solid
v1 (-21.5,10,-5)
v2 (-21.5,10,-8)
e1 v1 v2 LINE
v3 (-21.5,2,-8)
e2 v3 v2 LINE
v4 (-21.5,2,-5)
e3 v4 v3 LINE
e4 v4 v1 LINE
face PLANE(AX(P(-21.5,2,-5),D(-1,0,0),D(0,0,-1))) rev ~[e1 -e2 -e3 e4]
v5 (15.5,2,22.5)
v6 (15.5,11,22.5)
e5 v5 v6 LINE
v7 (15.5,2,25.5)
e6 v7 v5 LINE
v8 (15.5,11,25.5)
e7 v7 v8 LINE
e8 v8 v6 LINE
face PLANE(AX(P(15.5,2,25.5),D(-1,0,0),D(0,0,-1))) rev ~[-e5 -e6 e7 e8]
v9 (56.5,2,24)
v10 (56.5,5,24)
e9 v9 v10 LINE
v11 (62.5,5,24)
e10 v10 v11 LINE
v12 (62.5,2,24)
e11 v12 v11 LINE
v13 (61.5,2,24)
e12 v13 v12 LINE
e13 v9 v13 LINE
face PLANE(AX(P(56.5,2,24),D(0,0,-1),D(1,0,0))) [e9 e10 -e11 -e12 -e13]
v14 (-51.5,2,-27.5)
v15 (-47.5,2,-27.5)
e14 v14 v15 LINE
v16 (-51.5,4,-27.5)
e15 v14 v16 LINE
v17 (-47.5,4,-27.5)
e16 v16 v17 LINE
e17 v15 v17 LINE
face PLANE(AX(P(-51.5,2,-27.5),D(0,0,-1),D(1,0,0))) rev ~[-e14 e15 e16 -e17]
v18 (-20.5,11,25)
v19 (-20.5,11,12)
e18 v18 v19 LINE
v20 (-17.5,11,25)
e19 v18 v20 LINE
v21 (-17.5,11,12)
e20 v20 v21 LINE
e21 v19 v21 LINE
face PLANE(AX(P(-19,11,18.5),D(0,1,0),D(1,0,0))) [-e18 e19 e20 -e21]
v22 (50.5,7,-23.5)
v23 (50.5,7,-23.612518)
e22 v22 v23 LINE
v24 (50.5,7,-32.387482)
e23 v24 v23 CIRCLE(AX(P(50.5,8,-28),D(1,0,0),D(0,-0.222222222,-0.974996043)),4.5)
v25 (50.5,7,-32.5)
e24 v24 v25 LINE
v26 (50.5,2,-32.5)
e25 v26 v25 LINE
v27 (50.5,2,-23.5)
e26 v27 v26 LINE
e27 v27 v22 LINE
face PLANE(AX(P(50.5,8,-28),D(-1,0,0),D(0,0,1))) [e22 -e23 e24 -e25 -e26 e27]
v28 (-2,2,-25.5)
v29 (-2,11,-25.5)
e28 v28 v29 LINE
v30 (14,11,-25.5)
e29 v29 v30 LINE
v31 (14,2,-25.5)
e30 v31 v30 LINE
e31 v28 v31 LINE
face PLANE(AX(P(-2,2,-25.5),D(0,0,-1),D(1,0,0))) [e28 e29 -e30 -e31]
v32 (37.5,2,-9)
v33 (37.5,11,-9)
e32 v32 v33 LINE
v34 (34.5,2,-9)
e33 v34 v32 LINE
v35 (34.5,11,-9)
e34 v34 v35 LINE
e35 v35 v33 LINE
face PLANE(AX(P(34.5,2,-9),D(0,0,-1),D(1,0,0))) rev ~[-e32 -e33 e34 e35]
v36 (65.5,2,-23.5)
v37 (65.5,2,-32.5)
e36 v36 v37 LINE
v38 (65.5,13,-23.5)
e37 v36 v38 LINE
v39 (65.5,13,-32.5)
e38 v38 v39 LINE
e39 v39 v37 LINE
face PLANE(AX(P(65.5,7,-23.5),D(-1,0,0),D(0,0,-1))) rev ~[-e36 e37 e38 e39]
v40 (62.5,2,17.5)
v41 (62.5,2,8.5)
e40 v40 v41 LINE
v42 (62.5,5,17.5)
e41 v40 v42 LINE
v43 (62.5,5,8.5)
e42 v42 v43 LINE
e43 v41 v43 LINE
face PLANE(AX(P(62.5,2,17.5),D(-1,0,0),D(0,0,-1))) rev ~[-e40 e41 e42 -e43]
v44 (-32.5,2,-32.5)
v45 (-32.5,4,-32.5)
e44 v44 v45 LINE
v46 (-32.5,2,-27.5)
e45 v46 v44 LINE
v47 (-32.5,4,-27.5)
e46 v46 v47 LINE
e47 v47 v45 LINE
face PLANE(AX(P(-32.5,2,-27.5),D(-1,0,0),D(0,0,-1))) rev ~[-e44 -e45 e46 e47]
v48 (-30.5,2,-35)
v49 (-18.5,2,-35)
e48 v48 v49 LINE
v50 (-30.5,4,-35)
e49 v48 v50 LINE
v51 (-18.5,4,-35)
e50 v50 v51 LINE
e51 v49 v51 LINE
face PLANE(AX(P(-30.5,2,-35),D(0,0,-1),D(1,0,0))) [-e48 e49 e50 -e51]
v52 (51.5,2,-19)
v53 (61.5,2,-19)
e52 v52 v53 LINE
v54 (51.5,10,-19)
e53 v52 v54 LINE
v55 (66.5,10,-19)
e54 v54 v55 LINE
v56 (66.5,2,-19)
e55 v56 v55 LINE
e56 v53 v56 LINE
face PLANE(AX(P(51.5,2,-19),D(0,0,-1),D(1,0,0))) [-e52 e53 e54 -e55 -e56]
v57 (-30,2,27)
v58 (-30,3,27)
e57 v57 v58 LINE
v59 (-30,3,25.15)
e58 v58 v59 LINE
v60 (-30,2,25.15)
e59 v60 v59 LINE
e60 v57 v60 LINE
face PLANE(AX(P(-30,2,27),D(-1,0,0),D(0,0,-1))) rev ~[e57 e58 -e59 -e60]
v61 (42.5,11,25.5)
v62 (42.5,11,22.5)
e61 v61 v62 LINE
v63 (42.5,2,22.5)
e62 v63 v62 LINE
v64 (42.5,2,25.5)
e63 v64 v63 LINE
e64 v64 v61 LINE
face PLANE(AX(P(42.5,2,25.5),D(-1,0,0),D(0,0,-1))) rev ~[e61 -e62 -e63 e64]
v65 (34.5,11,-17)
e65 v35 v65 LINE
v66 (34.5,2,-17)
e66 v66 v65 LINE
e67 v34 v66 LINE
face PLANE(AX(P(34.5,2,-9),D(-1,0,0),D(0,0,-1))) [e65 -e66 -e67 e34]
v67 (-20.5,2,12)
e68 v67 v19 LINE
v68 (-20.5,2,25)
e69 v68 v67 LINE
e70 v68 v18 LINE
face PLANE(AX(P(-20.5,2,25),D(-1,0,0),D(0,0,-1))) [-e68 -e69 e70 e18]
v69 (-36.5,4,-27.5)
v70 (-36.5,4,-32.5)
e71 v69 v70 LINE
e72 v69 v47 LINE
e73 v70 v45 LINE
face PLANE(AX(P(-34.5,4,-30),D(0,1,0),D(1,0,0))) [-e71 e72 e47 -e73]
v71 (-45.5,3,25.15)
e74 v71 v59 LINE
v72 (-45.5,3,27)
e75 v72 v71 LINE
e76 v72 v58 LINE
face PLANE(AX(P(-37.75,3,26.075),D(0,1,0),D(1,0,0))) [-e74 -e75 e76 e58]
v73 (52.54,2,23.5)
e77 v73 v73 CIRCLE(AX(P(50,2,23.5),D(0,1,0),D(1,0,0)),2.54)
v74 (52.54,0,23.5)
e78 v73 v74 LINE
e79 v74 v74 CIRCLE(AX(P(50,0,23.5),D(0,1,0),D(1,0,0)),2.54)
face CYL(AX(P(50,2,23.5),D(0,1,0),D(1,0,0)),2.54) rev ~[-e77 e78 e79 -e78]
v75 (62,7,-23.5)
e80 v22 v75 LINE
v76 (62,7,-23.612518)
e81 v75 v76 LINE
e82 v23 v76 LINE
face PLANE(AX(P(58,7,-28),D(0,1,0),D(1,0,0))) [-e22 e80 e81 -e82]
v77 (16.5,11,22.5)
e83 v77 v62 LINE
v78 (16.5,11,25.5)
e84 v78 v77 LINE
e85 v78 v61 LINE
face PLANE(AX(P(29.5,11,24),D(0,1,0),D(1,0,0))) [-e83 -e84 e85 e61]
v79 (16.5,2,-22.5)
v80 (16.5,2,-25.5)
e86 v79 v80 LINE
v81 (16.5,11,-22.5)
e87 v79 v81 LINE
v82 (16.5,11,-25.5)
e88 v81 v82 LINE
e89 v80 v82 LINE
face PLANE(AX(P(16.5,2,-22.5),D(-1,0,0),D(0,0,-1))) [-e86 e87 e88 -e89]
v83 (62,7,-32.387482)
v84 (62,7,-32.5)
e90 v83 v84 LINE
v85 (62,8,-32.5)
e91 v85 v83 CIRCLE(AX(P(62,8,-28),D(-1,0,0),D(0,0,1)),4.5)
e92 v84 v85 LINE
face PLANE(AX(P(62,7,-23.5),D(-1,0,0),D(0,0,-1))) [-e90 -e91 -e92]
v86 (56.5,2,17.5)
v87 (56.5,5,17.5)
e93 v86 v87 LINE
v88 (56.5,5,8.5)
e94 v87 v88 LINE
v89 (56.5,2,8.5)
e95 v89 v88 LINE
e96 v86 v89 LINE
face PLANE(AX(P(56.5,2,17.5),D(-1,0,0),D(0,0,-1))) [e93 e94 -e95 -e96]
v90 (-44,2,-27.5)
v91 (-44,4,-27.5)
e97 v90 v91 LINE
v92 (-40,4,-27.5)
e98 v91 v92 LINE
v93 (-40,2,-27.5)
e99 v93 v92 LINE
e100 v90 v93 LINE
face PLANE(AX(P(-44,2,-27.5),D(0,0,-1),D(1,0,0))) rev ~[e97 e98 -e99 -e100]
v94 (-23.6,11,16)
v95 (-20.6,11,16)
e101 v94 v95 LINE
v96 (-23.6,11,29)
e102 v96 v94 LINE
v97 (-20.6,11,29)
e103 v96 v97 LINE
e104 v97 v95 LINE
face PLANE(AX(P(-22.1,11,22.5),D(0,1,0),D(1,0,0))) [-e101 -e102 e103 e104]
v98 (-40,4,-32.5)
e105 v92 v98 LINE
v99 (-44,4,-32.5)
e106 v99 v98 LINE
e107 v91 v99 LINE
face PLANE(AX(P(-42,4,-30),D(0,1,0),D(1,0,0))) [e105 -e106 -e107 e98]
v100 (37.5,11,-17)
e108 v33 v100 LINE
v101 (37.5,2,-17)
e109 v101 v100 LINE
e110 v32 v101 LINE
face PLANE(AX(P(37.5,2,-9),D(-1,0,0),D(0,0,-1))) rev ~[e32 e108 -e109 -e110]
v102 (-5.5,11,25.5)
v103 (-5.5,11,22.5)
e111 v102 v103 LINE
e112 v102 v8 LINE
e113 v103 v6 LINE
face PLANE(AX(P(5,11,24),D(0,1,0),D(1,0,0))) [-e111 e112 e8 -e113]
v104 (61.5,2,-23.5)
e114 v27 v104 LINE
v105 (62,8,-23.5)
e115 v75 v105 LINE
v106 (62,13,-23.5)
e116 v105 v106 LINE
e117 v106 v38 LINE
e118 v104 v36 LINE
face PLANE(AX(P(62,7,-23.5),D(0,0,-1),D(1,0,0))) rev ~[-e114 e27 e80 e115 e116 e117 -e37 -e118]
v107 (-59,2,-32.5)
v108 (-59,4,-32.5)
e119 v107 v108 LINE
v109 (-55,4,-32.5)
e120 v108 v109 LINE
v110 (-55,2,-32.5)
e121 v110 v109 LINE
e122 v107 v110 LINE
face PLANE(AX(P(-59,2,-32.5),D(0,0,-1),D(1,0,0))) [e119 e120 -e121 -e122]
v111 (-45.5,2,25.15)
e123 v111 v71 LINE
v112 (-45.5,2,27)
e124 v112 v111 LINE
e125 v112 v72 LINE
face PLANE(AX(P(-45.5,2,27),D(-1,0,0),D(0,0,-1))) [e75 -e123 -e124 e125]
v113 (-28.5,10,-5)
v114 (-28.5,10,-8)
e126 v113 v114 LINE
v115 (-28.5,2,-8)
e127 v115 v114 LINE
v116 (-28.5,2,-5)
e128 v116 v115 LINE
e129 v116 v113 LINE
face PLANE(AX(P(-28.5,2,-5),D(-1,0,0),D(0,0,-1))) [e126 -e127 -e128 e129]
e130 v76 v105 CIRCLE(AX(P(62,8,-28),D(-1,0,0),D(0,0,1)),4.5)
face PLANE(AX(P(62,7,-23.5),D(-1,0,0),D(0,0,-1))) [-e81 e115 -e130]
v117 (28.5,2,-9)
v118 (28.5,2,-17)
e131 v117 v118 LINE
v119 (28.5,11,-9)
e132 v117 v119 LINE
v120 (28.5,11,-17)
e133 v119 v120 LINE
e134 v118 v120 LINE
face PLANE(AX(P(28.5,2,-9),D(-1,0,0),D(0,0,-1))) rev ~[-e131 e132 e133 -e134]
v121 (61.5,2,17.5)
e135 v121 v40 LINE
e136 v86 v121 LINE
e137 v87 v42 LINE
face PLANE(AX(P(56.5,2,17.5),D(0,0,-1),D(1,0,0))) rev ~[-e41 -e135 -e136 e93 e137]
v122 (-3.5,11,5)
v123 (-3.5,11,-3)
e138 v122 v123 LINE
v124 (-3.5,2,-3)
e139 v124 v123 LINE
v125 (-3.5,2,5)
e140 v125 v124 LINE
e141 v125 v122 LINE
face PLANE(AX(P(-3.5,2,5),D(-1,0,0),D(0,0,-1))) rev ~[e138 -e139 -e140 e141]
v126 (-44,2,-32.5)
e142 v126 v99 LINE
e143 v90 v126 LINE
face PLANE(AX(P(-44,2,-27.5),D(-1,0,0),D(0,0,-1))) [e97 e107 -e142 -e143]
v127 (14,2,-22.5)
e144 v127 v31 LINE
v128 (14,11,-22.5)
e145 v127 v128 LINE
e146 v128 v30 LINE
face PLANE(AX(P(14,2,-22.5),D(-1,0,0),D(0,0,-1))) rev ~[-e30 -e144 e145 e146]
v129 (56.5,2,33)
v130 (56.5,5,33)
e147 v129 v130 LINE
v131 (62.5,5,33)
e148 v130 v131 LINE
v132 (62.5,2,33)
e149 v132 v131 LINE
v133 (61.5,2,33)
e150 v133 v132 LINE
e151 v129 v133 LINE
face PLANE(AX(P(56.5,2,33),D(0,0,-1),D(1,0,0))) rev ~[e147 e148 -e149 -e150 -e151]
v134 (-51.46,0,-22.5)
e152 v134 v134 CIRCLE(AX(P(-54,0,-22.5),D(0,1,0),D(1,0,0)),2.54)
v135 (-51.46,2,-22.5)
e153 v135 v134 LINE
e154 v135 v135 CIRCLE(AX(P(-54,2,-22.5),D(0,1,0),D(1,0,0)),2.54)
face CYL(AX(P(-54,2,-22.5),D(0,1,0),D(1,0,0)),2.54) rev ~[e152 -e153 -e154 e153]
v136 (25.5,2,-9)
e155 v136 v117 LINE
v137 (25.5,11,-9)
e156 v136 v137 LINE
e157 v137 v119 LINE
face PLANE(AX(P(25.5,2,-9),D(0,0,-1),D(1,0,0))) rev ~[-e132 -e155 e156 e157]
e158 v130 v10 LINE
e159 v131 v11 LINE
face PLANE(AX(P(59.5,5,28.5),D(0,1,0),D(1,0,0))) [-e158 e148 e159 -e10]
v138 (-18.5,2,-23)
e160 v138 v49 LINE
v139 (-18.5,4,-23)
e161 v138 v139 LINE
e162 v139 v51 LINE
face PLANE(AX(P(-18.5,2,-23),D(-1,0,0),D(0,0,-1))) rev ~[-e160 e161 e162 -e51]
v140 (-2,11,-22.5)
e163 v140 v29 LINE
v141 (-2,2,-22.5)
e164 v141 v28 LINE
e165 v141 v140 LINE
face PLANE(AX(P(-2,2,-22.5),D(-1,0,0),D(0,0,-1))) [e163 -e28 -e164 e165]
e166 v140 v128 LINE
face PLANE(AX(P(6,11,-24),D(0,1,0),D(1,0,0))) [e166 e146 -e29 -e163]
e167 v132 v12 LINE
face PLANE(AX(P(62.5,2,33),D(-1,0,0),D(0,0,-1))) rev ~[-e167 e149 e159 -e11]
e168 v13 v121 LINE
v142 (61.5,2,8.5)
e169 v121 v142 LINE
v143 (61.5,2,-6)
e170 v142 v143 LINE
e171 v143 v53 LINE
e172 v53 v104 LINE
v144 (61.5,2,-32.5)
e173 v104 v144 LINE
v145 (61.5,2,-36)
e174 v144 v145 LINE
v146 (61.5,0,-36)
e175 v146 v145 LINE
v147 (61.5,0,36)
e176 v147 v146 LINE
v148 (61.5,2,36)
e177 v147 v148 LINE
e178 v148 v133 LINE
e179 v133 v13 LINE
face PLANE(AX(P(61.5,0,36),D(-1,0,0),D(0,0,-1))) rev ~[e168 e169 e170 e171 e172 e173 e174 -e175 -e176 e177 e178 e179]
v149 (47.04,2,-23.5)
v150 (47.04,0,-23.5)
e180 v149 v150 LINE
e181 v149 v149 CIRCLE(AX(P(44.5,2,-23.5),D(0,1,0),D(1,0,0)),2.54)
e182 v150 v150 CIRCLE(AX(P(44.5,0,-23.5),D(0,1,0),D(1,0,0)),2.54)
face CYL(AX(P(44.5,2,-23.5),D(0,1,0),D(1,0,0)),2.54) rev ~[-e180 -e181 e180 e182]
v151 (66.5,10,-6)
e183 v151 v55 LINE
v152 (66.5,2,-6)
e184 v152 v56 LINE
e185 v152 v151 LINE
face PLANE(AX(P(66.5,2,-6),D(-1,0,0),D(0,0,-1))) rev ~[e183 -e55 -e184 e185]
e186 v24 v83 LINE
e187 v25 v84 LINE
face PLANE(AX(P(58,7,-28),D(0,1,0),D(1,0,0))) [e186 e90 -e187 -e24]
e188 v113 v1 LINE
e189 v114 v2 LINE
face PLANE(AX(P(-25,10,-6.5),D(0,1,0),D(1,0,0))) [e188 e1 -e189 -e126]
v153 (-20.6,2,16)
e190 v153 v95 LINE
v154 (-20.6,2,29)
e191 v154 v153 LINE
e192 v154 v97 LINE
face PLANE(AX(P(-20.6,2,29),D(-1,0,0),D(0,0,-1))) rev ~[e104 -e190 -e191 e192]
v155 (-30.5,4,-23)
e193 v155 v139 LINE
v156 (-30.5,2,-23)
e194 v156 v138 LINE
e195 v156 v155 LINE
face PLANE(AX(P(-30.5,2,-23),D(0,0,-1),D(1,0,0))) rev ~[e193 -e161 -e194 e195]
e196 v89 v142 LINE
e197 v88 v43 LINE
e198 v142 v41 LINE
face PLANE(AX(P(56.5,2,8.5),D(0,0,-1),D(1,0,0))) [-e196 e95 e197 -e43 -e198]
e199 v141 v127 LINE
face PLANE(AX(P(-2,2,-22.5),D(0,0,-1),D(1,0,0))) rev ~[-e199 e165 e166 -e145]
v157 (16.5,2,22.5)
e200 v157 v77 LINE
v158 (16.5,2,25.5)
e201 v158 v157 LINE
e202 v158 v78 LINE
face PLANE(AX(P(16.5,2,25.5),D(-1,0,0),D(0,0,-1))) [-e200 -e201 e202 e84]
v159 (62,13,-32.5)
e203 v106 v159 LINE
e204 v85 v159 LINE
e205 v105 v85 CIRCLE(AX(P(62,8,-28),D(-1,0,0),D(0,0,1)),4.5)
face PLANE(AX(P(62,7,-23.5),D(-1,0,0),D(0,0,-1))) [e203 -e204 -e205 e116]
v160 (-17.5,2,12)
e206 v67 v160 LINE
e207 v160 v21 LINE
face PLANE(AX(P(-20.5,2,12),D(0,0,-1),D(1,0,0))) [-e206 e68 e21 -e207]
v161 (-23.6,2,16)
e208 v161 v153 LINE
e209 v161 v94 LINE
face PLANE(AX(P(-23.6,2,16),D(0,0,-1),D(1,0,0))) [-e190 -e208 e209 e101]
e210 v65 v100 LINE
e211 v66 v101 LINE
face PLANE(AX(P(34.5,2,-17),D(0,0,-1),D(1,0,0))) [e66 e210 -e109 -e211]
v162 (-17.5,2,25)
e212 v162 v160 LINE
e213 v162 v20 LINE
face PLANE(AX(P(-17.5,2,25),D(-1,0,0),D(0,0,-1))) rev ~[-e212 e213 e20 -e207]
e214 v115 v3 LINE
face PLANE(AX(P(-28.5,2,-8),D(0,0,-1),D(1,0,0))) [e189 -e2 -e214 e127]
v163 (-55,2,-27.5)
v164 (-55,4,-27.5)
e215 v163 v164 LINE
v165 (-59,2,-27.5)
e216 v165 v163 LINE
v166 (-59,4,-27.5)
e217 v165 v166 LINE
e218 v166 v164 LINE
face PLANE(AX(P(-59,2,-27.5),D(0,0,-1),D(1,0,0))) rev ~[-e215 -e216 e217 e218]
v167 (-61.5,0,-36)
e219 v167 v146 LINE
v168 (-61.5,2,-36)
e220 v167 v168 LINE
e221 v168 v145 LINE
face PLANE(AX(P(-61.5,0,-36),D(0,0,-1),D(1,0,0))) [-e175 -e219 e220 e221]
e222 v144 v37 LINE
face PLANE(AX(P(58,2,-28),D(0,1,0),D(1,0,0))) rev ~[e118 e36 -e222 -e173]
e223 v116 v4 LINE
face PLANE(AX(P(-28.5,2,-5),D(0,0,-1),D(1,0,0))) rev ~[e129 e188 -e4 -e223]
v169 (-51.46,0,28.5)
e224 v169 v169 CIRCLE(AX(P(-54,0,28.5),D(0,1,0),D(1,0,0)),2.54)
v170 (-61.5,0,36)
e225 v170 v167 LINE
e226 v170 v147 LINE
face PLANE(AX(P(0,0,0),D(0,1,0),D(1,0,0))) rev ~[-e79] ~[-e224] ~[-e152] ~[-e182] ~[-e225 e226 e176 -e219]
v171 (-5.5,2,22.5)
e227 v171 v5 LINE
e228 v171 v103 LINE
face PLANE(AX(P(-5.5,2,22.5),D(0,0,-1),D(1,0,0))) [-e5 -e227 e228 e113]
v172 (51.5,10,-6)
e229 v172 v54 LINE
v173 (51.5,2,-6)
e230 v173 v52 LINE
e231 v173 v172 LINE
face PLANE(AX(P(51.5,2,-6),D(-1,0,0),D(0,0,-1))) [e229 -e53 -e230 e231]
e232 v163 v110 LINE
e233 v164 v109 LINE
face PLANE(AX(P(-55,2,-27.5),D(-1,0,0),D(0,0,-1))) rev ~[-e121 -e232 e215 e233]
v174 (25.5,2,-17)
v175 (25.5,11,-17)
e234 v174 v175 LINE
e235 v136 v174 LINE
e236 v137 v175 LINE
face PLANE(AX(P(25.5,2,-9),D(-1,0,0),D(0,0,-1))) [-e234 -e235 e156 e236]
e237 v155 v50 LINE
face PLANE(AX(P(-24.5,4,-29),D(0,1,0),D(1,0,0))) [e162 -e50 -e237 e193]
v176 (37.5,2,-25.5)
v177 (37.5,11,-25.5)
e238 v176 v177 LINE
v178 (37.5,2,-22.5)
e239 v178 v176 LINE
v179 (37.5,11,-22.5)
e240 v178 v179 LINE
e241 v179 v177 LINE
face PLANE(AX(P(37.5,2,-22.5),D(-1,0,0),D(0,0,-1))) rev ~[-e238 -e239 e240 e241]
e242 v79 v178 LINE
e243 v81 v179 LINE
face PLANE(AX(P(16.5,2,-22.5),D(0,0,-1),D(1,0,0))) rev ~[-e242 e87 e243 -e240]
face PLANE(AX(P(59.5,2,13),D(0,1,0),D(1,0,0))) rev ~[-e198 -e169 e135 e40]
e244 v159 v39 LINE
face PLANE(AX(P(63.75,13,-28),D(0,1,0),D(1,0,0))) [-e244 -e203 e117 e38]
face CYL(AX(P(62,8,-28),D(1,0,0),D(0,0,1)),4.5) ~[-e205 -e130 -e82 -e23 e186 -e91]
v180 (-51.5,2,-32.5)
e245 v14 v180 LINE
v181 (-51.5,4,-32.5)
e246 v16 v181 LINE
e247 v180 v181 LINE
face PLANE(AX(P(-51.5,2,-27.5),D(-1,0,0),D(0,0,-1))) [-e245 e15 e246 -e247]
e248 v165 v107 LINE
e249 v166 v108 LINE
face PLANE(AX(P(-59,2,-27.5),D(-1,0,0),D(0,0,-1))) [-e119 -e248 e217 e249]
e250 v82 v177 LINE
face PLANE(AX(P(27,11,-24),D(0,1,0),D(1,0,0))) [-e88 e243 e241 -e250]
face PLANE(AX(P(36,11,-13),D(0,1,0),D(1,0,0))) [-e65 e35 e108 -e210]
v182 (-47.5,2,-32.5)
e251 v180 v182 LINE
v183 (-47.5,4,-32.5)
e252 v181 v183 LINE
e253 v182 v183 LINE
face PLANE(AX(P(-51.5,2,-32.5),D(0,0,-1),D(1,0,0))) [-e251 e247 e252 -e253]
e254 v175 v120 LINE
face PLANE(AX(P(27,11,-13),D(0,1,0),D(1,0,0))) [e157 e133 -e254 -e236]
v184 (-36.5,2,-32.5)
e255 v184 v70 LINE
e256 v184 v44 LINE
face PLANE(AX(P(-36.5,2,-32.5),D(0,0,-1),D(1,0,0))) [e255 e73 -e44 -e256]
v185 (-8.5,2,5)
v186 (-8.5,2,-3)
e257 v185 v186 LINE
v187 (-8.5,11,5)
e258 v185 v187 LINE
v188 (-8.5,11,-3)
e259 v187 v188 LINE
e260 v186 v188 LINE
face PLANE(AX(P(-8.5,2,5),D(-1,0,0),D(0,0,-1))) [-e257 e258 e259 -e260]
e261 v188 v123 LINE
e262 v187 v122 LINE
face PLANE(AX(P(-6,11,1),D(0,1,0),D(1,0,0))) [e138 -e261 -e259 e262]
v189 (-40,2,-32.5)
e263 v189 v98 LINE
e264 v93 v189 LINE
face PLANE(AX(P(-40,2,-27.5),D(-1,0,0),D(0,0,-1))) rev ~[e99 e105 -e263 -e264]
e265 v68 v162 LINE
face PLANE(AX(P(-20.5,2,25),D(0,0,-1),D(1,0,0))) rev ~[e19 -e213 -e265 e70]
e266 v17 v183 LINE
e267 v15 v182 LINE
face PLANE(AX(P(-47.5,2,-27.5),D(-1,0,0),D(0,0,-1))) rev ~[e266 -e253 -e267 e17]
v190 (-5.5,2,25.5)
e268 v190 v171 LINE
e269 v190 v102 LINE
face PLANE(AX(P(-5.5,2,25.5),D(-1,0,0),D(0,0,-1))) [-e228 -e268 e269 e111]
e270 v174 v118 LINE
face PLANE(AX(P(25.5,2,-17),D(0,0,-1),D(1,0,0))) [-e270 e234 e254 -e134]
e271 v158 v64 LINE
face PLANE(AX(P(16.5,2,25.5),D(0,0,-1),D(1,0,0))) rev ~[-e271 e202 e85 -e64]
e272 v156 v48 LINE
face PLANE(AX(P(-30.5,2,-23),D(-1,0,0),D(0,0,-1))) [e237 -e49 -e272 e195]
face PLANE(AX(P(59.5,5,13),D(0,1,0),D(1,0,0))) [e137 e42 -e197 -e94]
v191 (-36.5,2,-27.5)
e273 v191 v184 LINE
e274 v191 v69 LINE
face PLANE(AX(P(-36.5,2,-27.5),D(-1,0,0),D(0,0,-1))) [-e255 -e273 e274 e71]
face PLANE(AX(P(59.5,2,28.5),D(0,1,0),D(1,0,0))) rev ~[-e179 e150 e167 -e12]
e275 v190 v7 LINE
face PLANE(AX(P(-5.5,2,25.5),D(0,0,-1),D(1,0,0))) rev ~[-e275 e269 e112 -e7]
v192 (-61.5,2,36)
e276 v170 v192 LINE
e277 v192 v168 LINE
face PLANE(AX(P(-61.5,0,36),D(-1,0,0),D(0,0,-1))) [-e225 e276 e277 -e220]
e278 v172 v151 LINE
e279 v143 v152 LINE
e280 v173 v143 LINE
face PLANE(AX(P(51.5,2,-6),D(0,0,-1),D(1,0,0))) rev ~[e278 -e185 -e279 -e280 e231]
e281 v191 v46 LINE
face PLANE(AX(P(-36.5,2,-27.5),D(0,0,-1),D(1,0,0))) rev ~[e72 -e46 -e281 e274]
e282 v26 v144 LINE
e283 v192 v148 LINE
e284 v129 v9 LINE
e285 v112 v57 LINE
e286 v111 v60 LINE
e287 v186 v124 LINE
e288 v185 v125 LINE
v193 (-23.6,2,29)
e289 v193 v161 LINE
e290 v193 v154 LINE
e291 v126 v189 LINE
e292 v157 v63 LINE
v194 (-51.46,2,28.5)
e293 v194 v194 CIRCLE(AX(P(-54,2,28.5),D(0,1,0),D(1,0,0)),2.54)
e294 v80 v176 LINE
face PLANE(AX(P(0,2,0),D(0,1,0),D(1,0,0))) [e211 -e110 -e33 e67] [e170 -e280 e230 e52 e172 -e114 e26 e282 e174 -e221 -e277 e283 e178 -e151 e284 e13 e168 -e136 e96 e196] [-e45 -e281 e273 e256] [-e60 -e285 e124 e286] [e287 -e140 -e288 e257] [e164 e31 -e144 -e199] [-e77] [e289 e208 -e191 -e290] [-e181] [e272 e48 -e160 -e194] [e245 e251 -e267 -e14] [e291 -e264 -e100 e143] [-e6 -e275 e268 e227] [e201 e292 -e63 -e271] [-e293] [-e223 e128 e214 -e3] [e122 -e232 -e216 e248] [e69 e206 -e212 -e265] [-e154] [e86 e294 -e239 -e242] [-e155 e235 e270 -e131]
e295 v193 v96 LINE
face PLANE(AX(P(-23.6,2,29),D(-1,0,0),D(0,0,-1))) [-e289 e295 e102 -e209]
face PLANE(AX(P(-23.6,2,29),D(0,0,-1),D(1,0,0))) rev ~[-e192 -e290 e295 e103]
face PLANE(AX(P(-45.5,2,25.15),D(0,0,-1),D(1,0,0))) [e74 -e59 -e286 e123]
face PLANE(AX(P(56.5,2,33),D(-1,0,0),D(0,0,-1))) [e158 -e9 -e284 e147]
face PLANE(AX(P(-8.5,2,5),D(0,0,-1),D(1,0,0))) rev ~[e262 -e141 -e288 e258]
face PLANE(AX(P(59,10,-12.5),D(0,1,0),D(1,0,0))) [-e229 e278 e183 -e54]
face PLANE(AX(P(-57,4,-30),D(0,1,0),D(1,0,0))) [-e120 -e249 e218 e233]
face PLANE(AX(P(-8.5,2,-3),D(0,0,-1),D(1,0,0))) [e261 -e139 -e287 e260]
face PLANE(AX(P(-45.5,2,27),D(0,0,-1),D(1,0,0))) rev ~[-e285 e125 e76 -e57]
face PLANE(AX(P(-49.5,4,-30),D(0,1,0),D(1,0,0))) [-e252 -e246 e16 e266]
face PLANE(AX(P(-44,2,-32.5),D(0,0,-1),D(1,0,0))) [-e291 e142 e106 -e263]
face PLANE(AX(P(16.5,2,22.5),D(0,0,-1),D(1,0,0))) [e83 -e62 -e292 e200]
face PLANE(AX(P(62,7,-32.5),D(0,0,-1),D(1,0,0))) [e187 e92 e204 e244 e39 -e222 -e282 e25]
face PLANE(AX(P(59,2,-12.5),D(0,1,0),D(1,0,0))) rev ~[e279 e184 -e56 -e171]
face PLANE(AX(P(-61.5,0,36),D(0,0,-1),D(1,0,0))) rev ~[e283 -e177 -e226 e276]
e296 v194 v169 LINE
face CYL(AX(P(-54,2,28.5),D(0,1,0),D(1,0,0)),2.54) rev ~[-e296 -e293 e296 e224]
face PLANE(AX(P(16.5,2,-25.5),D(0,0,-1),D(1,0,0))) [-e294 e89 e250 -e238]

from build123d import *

# Parameters (mm, degrees)
SKETCH1_W            = 123
SKETCH1_H            = 72
BOSS_EXTRUDE1_DEPTH  = 2
SKETCH2_W            = 6
SKETCH2_H            = 9
BOSS_EXTRUDE2_DEPTH  = 3
SKETCH3_W            = 15
SKETCH3_H            = 9
BOSS_EXTRUDE3_DEPTH  = 5
SKETCH4_W            = 3.5
SKETCH4_H            = 9
BOSS_EXTRUDE4_DEPTH  = 6
SKETCH5_R            = 4.5
BOSS_EXTRUDE5_DEPTH  = 11.5
SKETCH6_W            = 15
SKETCH6_H            = 13
BOSS_EXTRUDE6_DEPTH  = 8
SKETCH7_W            = 26
SKETCH7_H            = 3
SKETCH7_W_2          = 21
SKETCH7_W_3          = 3
SKETCH7_H_2          = 8
SKETCH7_W_4          = 16
SKETCH7_W_5          = 5
SKETCH7_H_3          = 13
BOSS_EXTRUDE7_DEPTH  = 9
SKETCH8_W            = 12
SKETCH8_H            = 12
BOSS_EXTRUDE8_DEPTH  = 2
SKETCH9_W            = 4
SKETCH9_H            = 5
BOSS_EXTRUDE9_DEPTH  = 2
SKETCH11_W           = 7
SKETCH11_H           = 3
BOSS_EXTRUDE11_DEPTH = 8
SKETCH12_W           = 15.5
SKETCH12_H           = 1.85
BOSS_EXTRUDE12_DEPTH = 1
SKETCH13_R           = 2.54
CUT_EXTRUDE1_DEPTH   = 10


with BuildPart() as part:
    # Sketch1 → Boss-Extrude1 (new body)
    with BuildSketch(Plane(origin=(0, 0, 0), x_dir=(1, 0, 0), z_dir=(0, 1, 0))):
        Rectangle(SKETCH1_W, SKETCH1_H)
    extrude(amount=BOSS_EXTRUDE1_DEPTH)

    # Sketch2 → Boss-Extrude2 (add)
    with BuildSketch(Plane(origin=(0, 2, 0), x_dir=(1, 0, 0), z_dir=(0, 1, 0))):
        with Locations((59.5, -28.5)):
            Rectangle(SKETCH2_W, SKETCH2_H)
        with Locations((59.5, -13)):
            Rectangle(SKETCH2_W, SKETCH2_H)
    extrude(amount=BOSS_EXTRUDE2_DEPTH)

    # Sketch3 → Boss-Extrude3 (add)
    with BuildSketch(Plane(origin=(0, 2, 0), x_dir=(1, 0, 0), z_dir=(0, 1, 0))):
        with Locations((58, 28)):
            Rectangle(SKETCH3_W, SKETCH3_H)
    extrude(amount=BOSS_EXTRUDE3_DEPTH)

    # Sketch4 → Boss-Extrude4 (add)
    with BuildSketch(Plane(origin=(0, 7, 0), x_dir=(1, 0, 0), z_dir=(0, 1, 0))):
        with Locations((63.75, 28)):
            Rectangle(SKETCH4_W, SKETCH4_H)
    extrude(amount=BOSS_EXTRUDE4_DEPTH)

    # Sketch5 → Boss-Extrude5 (add)
    with BuildSketch(Plane.ZY.offset(-62)):
        with Locations((-28, 8)):
            Circle(SKETCH5_R)
    extrude(amount=BOSS_EXTRUDE5_DEPTH)

    # Sketch6 → Boss-Extrude6 (add)
    with BuildSketch(Plane(origin=(0, 2, 0), x_dir=(1, 0, 0), z_dir=(0, 1, 0))):
        with Locations((59, 12.5)):
            Rectangle(SKETCH6_W, SKETCH6_H)
    extrude(amount=BOSS_EXTRUDE6_DEPTH)

    # Sketch7 → Boss-Extrude7 (add)
    with BuildSketch(Plane(origin=(0, 2, 0), x_dir=(1, 0, 0), z_dir=(0, 1, 0))):
        with Locations((29.5, -24)):
            Rectangle(SKETCH7_W, SKETCH7_H)
        with Locations((5, -24)):
            Rectangle(SKETCH7_W_2, SKETCH7_H)
        with Locations((27, 24)):
            Rectangle(SKETCH7_W_2, SKETCH7_H)
        with Locations((36, 13)):
            Rectangle(SKETCH7_W_3, SKETCH7_H_2)
        with Locations((6, 24)):
            Rectangle(SKETCH7_W_4, SKETCH7_H)
        with Locations((27, 13)):
            Rectangle(SKETCH7_W_3, SKETCH7_H_2)
        with Locations((-6, -1)):
            Rectangle(SKETCH7_W_5, SKETCH7_H_2)
        with Locations((-19, -18.5)):
            Rectangle(SKETCH7_W_3, SKETCH7_H_3)
        with Locations((-22.1, -22.5)):
            Rectangle(SKETCH7_W_3, SKETCH7_H_3)
    extrude(amount=BOSS_EXTRUDE7_DEPTH)

    # Sketch8 → Boss-Extrude8 (add)
    with BuildSketch(Plane(origin=(0, 2, 0), x_dir=(1, 0, 0), z_dir=(0, 1, 0))):
        with Locations((-24.5, 29)):
            Rectangle(SKETCH8_W, SKETCH8_H)
    extrude(amount=BOSS_EXTRUDE8_DEPTH)

    # Sketch9 → Boss-Extrude9 (add)
    with BuildSketch(Plane(origin=(0, 2, 0), x_dir=(1, 0, 0), z_dir=(0, 1, 0))):
        with Locations((-42, 30)):
            Rectangle(SKETCH9_W, SKETCH9_H)
        with Locations((-49.5, 30)):
            Rectangle(SKETCH9_W, SKETCH9_H)
        with Locations((-57, 30)):
            Rectangle(SKETCH9_W, SKETCH9_H)
        with Locations((-34.5, 30)):
            Rectangle(SKETCH9_W, SKETCH9_H)
    extrude(amount=BOSS_EXTRUDE9_DEPTH)

    # Sketch11 → Boss-Extrude11 (add)
    with BuildSketch(Plane(origin=(0, 2, 0), x_dir=(1, 0, 0), z_dir=(0, 1, 0))):
        with Locations((-25, 6.5)):
            Rectangle(SKETCH11_W, SKETCH11_H)
    extrude(amount=BOSS_EXTRUDE11_DEPTH)

    # Sketch12 → Boss-Extrude12 (add)
    with BuildSketch(Plane(origin=(0, 2, 0), x_dir=(1, 0, 0), z_dir=(0, 1, 0))):
        with Locations((-37.75, -26.075)):
            Rectangle(SKETCH12_W, SKETCH12_H)
    extrude(amount=BOSS_EXTRUDE12_DEPTH)

    # Sketch13 → Cut-Extrude1 (cut)
    with BuildSketch(Plane(origin=(0, 2, 0), x_dir=(1, 0, 0), z_dir=(0, 1, 0))):
        with Locations((-54, -28.5)):
            Circle(SKETCH13_R)
        with Locations((-54, 22.5)):
            Circle(SKETCH13_R)
        with Locations((44.5, 23.5)):
            Circle(SKETCH13_R)
        with Locations((50, -23.5)):
            Circle(SKETCH13_R)
    extrude(amount=-CUT_EXTRUDE1_DEPTH, mode=Mode.SUBTRACT)


solid = part.part
